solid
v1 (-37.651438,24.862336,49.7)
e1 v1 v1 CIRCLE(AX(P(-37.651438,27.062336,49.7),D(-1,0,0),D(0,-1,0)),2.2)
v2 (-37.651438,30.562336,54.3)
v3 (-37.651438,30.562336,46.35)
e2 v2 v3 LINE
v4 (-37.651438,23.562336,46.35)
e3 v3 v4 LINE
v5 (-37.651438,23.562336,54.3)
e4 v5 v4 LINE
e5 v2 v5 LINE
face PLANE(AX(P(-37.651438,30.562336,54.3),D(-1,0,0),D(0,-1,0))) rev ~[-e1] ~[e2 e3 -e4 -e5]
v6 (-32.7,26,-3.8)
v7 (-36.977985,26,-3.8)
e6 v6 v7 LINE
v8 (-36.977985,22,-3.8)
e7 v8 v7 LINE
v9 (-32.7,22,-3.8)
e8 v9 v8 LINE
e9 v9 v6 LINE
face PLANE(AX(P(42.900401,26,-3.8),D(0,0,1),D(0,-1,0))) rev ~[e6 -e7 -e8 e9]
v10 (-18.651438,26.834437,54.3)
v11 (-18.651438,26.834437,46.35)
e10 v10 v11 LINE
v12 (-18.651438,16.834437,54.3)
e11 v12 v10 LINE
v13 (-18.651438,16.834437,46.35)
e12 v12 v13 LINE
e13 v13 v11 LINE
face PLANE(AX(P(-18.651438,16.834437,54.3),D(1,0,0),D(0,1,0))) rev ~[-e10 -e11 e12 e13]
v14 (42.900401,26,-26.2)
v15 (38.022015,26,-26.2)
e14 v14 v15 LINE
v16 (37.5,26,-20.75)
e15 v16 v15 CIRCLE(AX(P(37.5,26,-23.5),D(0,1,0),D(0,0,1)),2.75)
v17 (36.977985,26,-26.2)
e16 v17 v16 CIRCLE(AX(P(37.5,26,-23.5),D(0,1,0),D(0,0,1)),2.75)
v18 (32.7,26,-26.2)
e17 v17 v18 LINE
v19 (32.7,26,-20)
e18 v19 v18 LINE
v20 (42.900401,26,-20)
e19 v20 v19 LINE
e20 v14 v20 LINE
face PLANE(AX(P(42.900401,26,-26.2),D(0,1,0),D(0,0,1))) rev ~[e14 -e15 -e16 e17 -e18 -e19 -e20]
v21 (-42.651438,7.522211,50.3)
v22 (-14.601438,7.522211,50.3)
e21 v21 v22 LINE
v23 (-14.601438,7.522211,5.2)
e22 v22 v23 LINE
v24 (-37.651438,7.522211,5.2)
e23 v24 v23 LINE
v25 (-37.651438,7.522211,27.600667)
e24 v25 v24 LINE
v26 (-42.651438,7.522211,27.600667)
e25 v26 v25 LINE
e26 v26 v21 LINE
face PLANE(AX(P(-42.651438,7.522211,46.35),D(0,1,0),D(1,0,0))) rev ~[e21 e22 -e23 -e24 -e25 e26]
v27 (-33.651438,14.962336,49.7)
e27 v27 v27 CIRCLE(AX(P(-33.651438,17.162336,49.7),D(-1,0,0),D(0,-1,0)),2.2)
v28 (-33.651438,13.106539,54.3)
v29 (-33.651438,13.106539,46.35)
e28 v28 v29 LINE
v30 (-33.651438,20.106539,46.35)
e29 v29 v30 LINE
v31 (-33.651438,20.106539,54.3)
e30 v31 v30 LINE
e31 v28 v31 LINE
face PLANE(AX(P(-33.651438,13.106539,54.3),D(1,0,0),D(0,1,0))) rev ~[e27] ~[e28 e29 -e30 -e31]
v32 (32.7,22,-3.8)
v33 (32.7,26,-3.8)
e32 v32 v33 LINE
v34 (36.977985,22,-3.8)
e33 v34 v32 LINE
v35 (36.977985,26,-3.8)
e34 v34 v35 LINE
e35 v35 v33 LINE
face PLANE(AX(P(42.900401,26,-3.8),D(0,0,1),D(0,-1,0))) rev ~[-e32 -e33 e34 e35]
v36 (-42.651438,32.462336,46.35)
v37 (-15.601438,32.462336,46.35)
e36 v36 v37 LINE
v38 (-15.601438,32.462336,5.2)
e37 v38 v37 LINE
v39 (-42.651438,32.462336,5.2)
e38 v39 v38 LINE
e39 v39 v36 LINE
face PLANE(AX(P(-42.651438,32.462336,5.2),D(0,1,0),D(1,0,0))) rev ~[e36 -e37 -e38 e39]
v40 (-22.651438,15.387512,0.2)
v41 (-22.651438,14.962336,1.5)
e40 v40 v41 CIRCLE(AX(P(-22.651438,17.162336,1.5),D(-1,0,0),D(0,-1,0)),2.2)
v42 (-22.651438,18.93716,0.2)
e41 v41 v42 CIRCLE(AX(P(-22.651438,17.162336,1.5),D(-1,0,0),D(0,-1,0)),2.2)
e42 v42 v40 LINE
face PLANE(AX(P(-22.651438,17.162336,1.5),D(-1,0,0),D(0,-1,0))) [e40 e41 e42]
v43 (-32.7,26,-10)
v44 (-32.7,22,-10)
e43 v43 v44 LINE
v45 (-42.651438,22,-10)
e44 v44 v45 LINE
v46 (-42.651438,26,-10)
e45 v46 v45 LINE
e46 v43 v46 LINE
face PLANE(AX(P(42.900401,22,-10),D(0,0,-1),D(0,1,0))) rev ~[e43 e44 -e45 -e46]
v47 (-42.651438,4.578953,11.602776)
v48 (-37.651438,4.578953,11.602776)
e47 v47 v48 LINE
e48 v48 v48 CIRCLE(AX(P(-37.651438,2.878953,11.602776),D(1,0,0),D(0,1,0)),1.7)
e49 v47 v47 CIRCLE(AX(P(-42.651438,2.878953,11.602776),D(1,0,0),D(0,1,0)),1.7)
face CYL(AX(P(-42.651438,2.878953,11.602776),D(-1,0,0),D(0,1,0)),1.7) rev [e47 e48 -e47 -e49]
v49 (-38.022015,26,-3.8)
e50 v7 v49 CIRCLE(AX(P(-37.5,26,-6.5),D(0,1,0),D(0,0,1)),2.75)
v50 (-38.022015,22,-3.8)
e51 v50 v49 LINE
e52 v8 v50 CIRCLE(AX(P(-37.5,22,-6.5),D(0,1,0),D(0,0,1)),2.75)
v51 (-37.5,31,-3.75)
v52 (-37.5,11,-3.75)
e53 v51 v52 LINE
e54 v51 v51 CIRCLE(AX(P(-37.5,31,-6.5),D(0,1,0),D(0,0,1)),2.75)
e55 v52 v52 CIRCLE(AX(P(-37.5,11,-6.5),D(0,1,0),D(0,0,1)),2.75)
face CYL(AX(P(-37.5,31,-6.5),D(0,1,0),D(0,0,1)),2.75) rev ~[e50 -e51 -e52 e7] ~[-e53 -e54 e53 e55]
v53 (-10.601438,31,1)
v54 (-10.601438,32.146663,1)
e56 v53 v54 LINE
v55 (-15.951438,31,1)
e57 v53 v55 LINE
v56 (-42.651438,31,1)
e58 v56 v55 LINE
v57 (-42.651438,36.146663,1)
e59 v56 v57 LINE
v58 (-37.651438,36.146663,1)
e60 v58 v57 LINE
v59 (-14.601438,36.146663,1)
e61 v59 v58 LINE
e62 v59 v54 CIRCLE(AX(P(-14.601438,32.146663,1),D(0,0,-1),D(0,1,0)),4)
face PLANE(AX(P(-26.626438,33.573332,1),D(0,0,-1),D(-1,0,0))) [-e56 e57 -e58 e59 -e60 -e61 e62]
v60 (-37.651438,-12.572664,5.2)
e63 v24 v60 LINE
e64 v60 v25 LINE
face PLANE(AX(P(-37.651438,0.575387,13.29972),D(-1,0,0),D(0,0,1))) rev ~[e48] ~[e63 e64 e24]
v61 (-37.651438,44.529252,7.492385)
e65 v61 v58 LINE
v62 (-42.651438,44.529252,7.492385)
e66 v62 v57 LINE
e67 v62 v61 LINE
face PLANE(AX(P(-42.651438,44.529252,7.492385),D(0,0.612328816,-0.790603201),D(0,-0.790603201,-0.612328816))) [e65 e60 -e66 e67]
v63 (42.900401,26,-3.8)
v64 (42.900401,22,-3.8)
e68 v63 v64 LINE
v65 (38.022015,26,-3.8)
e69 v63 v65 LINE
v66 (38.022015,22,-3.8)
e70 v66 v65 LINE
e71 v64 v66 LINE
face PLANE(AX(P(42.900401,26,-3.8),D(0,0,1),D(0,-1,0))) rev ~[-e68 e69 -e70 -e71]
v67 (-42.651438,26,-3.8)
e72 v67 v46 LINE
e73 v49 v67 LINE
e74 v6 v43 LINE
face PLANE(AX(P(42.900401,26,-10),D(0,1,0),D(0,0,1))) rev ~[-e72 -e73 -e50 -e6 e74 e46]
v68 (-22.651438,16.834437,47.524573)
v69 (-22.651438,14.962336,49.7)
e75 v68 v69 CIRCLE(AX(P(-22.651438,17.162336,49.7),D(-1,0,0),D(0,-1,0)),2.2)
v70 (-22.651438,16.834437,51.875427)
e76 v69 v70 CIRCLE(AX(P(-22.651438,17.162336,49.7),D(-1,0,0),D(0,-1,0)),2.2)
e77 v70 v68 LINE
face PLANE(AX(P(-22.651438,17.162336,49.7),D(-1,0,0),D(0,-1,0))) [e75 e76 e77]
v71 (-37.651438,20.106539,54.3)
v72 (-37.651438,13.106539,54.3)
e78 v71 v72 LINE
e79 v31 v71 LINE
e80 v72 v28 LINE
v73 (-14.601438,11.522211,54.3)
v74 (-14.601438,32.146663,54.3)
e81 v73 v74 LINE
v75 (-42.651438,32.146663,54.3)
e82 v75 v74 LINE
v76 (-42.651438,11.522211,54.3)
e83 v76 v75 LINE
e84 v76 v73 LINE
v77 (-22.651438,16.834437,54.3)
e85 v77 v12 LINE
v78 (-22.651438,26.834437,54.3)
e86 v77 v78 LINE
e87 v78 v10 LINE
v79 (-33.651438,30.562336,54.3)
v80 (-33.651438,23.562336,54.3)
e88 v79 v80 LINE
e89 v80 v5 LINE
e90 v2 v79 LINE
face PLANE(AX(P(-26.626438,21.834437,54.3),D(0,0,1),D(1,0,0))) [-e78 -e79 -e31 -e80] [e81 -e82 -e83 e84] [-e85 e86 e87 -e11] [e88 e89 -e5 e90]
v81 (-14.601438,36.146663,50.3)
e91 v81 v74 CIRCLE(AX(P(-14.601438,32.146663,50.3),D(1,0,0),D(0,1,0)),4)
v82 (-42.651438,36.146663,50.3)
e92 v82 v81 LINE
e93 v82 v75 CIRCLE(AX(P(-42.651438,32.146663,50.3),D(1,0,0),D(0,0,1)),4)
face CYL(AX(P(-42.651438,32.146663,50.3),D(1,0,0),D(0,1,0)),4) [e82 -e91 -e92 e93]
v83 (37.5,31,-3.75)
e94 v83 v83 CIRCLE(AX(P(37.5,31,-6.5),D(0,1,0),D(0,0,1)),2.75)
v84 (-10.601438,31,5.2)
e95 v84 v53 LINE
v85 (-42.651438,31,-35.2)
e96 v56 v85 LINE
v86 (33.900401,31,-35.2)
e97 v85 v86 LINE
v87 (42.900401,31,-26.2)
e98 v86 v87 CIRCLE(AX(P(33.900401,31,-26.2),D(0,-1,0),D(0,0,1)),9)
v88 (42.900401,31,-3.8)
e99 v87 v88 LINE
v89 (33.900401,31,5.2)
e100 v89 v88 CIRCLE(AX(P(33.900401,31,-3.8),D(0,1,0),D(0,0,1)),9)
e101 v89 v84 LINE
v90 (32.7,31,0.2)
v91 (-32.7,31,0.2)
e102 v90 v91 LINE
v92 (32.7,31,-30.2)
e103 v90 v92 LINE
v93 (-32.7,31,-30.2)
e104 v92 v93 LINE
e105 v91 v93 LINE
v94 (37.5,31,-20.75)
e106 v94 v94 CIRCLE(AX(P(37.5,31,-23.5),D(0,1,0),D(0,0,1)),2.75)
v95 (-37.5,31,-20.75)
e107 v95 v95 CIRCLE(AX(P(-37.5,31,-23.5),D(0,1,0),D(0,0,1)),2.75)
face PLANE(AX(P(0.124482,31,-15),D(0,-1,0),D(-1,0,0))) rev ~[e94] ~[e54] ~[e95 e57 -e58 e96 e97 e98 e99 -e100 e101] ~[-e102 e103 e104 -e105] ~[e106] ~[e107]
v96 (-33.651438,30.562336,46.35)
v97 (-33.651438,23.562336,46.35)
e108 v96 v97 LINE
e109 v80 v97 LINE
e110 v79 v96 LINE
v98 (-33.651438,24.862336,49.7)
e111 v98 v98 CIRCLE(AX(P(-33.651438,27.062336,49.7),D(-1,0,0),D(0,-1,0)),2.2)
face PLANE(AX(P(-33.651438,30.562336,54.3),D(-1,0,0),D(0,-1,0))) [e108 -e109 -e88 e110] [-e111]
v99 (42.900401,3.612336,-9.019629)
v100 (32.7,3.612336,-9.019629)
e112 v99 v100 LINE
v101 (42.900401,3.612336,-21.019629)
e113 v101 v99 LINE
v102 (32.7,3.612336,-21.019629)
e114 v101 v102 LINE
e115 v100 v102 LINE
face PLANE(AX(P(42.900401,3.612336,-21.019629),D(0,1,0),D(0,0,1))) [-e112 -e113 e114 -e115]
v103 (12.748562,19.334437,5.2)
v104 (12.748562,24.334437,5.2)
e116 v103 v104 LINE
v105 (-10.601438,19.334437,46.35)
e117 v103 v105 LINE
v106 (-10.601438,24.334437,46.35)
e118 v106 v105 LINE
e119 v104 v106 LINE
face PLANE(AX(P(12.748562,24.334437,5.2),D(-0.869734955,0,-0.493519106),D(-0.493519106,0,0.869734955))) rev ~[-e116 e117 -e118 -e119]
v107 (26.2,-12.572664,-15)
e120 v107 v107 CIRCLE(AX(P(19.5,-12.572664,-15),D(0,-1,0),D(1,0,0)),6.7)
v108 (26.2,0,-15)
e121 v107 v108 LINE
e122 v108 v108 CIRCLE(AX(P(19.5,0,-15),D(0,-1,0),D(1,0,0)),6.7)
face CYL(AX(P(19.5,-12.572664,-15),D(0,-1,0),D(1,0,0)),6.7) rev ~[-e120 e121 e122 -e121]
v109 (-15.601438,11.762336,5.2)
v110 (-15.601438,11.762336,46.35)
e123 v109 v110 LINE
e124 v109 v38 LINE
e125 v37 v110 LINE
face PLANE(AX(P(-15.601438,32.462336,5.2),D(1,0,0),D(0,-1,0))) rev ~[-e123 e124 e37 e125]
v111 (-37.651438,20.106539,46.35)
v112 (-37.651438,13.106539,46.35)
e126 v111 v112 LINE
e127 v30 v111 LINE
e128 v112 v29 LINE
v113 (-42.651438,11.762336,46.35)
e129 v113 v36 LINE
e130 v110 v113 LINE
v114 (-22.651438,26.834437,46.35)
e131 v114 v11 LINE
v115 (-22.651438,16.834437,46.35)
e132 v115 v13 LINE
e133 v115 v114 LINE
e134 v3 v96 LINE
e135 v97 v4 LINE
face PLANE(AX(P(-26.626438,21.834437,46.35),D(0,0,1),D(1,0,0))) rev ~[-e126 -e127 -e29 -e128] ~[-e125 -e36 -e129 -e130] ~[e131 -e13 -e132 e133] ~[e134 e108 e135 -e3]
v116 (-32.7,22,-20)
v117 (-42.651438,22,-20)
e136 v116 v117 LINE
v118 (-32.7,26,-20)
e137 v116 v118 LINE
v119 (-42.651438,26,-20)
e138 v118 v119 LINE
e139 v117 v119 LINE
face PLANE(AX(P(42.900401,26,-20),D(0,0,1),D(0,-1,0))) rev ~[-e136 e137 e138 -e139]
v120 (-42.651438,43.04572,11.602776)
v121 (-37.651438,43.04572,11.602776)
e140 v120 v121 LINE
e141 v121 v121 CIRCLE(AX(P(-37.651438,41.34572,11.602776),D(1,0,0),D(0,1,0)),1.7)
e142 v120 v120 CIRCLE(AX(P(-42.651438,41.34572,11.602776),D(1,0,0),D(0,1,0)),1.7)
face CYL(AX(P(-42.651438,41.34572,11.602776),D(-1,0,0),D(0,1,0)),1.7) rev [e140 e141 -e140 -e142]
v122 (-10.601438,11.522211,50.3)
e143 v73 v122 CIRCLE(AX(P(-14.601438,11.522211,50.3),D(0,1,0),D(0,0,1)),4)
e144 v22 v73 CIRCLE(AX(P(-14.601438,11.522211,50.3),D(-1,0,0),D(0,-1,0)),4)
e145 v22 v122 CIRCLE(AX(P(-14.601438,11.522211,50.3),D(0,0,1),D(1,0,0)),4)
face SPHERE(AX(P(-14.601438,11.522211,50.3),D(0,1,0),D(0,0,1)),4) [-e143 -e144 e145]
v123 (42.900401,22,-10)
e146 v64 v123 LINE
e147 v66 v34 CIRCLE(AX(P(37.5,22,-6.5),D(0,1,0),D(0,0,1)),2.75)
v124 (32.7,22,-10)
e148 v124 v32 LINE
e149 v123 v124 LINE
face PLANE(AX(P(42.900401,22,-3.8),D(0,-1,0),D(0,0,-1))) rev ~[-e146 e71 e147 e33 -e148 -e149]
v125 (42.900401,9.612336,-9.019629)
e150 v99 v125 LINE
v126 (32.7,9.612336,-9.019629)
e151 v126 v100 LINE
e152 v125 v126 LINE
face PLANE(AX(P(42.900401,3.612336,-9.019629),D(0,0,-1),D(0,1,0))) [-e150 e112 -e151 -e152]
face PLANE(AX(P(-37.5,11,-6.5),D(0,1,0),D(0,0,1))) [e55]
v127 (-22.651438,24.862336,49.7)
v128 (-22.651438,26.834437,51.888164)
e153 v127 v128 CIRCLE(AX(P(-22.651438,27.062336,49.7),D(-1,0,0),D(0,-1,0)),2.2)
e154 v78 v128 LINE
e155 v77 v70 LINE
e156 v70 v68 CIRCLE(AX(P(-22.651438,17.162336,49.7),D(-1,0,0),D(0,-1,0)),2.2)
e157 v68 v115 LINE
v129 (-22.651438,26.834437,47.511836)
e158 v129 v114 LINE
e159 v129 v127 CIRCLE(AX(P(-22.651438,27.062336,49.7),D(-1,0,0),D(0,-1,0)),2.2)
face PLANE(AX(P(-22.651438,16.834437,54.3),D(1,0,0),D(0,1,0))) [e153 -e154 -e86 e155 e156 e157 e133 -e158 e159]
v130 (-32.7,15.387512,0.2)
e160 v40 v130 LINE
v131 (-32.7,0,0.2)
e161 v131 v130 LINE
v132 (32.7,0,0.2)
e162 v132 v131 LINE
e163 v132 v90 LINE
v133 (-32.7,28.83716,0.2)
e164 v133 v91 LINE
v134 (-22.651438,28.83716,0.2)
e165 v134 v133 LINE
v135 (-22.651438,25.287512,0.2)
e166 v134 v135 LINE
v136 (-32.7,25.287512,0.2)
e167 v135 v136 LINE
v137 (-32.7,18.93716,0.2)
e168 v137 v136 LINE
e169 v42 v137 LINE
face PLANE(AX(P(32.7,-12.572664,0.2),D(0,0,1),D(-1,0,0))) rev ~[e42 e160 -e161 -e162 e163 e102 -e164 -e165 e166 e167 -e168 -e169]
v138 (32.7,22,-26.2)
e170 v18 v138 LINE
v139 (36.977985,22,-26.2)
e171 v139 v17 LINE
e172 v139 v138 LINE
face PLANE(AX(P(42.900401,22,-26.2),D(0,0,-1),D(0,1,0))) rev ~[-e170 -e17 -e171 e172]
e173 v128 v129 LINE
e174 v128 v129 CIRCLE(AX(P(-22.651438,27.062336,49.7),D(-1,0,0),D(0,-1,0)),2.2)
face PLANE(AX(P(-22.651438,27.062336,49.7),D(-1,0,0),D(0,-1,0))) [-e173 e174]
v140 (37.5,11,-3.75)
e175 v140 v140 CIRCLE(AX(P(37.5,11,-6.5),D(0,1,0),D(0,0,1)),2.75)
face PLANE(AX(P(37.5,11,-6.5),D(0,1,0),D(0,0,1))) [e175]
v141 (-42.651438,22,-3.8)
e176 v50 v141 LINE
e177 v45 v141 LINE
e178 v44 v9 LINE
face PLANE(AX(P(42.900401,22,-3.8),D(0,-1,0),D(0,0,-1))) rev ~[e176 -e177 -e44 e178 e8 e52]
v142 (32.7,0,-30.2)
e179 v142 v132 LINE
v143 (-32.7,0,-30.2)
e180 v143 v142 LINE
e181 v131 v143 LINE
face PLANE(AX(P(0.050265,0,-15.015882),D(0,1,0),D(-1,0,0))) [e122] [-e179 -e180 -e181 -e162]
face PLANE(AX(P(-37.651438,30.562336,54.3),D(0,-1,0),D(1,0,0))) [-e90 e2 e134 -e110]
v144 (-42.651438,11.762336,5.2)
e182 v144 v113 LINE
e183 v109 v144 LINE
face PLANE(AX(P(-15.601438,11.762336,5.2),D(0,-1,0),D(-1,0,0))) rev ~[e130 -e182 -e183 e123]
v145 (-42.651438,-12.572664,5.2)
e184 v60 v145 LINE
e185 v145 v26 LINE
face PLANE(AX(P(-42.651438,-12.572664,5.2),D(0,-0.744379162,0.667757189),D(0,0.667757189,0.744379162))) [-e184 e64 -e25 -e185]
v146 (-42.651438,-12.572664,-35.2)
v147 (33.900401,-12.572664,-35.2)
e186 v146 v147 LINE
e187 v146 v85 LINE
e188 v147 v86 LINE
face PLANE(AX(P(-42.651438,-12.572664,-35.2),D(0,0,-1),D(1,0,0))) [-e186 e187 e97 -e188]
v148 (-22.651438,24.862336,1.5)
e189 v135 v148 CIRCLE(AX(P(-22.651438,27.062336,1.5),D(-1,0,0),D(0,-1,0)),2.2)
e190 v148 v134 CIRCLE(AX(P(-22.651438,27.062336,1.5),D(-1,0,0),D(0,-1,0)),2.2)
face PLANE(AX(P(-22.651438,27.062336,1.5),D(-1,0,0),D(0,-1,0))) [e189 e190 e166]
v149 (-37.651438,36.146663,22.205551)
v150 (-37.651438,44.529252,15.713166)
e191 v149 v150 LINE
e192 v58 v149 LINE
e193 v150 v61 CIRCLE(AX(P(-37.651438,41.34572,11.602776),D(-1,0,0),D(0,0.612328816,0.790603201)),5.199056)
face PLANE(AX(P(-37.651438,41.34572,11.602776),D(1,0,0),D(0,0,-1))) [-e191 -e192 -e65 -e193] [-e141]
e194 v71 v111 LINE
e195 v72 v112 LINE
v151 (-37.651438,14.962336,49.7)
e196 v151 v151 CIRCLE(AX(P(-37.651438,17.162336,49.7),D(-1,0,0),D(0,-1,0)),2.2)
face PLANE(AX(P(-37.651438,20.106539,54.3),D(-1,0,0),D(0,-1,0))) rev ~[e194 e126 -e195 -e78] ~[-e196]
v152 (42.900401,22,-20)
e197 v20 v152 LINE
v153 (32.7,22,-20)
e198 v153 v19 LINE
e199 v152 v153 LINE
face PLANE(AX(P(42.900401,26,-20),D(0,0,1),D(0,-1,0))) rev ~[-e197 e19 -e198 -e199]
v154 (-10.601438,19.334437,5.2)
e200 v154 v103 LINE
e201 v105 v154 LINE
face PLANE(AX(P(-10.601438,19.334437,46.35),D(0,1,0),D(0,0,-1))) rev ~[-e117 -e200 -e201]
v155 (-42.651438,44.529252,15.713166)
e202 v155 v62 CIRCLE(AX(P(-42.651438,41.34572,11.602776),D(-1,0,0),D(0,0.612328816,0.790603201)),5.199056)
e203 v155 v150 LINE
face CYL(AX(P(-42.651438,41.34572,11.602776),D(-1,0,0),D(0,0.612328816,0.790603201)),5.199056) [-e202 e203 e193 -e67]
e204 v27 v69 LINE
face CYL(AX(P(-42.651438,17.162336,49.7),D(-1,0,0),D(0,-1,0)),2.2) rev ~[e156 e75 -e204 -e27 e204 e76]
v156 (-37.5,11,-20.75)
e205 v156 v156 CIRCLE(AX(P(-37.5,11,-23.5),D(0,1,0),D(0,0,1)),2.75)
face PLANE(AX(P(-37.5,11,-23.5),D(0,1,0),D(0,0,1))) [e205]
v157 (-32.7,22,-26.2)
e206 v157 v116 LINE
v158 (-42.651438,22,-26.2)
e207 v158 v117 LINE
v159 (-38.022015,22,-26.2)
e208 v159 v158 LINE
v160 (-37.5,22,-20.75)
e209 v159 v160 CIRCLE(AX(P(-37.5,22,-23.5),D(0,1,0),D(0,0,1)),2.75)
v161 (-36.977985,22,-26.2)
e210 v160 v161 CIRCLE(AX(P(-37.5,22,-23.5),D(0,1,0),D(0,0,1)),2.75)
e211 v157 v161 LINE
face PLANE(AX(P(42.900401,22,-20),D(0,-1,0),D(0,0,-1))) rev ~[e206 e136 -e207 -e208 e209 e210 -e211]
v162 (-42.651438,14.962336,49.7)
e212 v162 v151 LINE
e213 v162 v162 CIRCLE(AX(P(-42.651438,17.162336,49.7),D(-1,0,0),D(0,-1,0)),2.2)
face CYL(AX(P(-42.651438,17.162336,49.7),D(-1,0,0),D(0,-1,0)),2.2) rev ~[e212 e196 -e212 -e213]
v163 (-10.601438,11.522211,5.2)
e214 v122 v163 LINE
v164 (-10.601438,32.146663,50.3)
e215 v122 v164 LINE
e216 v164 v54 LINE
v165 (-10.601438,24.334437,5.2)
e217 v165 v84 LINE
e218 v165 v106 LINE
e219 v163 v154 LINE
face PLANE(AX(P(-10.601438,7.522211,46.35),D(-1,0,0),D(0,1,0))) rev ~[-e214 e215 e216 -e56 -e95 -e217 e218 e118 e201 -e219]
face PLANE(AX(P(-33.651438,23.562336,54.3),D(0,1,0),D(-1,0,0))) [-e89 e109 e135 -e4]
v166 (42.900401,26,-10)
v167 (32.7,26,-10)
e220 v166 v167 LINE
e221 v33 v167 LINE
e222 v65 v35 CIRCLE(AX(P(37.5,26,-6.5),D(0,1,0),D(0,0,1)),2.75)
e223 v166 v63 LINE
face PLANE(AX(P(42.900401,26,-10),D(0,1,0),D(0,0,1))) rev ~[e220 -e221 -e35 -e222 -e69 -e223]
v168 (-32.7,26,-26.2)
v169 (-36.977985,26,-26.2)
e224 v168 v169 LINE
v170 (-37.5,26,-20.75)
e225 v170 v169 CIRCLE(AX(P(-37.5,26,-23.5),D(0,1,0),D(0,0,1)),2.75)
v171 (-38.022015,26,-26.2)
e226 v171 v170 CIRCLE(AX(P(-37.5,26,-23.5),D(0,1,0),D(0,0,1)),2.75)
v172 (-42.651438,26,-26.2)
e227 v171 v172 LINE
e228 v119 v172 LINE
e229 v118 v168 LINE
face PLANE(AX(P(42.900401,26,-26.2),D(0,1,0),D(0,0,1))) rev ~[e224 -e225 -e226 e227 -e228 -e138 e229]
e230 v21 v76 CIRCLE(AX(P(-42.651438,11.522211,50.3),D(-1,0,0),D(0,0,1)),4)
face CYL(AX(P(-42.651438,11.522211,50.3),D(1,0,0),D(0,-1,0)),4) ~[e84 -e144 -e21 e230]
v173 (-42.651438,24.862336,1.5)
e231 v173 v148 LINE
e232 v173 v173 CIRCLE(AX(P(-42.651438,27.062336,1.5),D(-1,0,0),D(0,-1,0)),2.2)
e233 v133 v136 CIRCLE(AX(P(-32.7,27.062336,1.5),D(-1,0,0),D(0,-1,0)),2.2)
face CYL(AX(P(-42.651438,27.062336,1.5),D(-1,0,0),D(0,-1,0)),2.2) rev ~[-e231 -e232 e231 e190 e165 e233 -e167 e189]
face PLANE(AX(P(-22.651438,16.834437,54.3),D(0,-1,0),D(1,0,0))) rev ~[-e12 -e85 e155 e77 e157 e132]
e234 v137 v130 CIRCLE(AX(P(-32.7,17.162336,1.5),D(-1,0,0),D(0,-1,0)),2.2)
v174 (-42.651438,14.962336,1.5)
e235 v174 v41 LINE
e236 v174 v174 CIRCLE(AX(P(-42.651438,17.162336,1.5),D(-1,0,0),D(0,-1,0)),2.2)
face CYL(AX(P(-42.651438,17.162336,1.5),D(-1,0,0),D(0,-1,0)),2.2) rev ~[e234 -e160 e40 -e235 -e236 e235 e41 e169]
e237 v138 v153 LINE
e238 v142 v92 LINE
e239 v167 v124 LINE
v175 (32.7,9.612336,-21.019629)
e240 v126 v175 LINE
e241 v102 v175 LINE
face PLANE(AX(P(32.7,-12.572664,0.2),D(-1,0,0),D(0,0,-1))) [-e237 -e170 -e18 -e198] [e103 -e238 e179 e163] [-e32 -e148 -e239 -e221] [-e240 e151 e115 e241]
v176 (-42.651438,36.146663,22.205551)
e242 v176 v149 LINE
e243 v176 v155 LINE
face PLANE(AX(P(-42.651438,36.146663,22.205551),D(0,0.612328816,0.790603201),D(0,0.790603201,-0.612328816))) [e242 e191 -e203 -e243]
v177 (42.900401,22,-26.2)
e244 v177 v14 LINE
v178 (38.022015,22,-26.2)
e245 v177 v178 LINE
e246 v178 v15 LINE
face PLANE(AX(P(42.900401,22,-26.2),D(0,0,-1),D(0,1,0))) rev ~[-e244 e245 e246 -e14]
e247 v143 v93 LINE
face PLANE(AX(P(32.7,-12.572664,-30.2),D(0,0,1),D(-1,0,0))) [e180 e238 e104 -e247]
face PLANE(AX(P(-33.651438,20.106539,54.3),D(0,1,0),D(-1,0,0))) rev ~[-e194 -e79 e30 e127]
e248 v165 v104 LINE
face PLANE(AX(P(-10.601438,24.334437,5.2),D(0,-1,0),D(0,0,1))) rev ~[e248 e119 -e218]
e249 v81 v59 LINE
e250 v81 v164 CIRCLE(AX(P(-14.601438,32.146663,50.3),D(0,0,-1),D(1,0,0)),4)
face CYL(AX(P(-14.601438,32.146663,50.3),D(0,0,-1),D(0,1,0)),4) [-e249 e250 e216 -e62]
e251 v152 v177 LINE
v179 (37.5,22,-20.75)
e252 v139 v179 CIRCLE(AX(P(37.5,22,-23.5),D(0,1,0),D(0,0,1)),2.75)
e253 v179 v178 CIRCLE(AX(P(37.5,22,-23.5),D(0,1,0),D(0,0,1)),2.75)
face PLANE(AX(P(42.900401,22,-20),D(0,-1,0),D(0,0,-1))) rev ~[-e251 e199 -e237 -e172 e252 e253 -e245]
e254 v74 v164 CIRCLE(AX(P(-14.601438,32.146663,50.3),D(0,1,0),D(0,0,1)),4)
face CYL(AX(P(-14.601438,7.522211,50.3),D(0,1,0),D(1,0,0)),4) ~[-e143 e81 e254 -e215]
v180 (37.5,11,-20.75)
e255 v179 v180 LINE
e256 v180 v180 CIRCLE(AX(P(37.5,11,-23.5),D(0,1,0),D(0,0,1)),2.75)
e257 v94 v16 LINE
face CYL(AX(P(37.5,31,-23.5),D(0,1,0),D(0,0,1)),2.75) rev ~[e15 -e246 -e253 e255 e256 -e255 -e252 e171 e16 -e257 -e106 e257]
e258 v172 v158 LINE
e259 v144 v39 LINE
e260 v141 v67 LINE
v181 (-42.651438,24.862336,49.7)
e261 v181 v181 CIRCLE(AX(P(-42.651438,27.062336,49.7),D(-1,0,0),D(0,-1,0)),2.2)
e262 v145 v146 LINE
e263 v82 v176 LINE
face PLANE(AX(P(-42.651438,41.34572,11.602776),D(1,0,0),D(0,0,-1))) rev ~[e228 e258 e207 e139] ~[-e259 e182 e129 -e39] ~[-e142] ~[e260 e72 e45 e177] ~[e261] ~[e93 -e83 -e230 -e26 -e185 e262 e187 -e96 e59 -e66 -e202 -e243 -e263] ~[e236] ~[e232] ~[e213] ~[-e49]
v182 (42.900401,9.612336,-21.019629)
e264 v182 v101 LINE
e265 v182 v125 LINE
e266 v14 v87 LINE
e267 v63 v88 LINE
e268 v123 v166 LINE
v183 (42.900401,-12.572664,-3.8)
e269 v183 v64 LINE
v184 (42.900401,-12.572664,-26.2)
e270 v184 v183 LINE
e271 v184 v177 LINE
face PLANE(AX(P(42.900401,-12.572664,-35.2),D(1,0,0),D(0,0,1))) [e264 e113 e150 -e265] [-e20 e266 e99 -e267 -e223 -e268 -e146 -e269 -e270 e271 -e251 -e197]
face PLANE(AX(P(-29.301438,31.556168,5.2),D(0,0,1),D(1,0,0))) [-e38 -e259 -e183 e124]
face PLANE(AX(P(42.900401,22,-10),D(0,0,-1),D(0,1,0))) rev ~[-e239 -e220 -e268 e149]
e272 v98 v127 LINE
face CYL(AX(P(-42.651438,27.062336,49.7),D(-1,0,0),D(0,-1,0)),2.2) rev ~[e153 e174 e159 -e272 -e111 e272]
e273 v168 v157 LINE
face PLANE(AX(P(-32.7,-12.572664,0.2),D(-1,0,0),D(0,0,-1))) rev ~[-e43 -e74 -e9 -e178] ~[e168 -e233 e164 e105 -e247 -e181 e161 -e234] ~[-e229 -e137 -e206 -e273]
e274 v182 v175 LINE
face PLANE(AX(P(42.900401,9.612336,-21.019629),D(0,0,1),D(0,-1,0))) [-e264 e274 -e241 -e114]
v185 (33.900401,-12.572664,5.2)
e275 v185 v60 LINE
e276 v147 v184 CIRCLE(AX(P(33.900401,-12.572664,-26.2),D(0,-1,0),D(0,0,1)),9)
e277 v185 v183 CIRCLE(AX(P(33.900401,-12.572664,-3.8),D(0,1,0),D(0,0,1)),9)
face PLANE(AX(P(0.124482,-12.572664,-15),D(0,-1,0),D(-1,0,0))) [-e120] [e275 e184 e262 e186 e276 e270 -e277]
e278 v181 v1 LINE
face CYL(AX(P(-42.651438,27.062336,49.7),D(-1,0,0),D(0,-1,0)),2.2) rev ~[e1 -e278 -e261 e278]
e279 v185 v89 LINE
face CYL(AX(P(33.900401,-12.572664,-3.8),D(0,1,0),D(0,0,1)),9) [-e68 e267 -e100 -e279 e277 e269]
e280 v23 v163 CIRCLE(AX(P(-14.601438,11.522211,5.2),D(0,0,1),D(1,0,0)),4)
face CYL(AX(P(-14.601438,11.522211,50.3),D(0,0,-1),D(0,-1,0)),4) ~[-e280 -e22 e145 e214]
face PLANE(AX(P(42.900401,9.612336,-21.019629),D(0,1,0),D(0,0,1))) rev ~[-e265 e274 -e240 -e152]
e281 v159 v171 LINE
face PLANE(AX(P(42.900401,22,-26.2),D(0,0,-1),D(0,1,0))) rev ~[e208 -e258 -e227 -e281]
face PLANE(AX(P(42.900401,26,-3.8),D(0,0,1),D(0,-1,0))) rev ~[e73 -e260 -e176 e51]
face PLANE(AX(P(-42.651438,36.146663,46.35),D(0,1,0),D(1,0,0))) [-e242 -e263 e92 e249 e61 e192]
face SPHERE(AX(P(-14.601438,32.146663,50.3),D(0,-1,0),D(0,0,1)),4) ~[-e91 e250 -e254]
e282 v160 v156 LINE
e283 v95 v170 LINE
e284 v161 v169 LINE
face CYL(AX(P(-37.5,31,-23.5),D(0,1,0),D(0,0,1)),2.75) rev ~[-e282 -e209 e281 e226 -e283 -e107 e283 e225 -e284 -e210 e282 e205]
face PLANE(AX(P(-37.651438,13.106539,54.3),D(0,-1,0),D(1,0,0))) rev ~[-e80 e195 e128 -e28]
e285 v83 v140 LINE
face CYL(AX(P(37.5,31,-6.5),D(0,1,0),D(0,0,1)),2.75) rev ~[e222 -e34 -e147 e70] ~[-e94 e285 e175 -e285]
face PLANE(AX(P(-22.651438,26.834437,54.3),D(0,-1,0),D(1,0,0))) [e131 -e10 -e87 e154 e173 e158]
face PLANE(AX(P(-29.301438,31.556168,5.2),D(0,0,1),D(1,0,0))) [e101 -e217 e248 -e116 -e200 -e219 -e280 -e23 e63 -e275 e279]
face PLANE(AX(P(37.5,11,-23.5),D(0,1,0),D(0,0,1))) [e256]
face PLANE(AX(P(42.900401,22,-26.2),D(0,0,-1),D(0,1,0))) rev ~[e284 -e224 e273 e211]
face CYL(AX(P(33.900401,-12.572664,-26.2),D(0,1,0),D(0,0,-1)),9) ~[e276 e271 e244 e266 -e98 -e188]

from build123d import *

# Parameters (mm, degrees)
BOSS_EXTRUDE1_DEPTH  = 12.572663867
SKETCH3_W            = 65.4
SKETCH3_H            = 30.4
BOSS_EXTRUDE2_DEPTH  = 43.572663867
FILLET1_R            = 9
SKETCH4_R            = 2.75
CUT_EXTRUDE1_DEPTH   = 20
CUT_EXTRUDE2_DEPTH   = 129
SKETCH6_R            = 6.7
CUT_EXTRUDE3_DEPTH   = 129
CUT_EXTRUDE6_DEPTH   = 63
SKETCH8_W            = 26.7
SKETCH8_H            = 1.112336133
BOSS_EXTRUDE3_DEPTH  = 4.2
BOSS_EXTRUDE4_DEPTH  = 41.15
SKETCH10_W           = 32.05
SKETCH10_H           = 5.146663352
BOSS_EXTRUDE5_DEPTH  = 4.2
BOSS_EXTRUDE6_DEPTH  = 23.35
CUT_EXTRUDE7_DEPTH   = 23.35
BOSS_EXTRUDE7_DEPTH  = 5
SKETCH15_W           = 32.05
SKETCH15_H           = 28.624452046
BOSS_EXTRUDE8_DEPTH  = 7.95
FILLET2_R            = 4
FILLET3_R            = 4
SKETCH16_R           = 2.2
CUT_EXTRUDE8_DEPTH   = 20
CUT_EXTRUDE9_DEPTH   = 41
BOSS_EXTRUDE9_DEPTH  = 5
SKETCH19_R           = 2.420474662
CUT_EXTRUDE10_DEPTH  = 5
BOSS_EXTRUDE10_START = -5
SKETCH20_R           = 2.420474662
SKETCH20_R_2         = 1.7
BOSS_EXTRUDE10_DEPTH = 5
SKETCH21_W           = 4
SKETCH21_H           = 10
CUT_EXTRUDE11_DEPTH  = 10


with BuildPart() as part:
    # Sketch2 → Boss-Extrude1 (new body)
    with BuildSketch(Plane.XZ):
        Polygon((-29.5, -30.2), (-32.5, -30.2), (-32.7, -30.2), (-32.7, -27), (-32.7, 0), (-32.7, 0.2), (32.5, 0.2), (32.7, 0.2), (32.900400589, -30.2), align=None)
    extrude(amount=BOSS_EXTRUDE1_DEPTH)

    # Sketch3 → Boss-Extrude2 (add)
    with BuildSketch(Plane(origin=(0, -12.572663867, 0), x_dir=(-1, 0, 0), z_dir=(0, -1, 0))):
        Polygon((-32.7, -5.2), (32.651437537, -5.2), (42.651437537, -5.2), (42.651437537, 30.2), (42.651437537, 35.2), (-32.900400589, 35.2), (-42.900400589, 35.2), (-42.900400589, 30.2), (-42.900400589, -5.2), align=None)
        with Locations((0, 15)):
            Rectangle(SKETCH3_W, SKETCH3_H, mode=Mode.SUBTRACT)
    extrude(amount=-BOSS_EXTRUDE2_DEPTH)

    # Fillet1
    fillet1_edges = [part.edges().sort_by_distance(p)[0] for p in [
        (42.900400589, 9.213668067, -35.2),
        (42.900400589, 9.213668067, 5.2),
    ]]
    fillet(fillet1_edges, radius=FILLET1_R)

    # Sketch4 → Cut-Extrude1 (cut)
    with BuildSketch(Plane(origin=(0, 31, 0), x_dir=(1, 0, 0), z_dir=(0, 1, 0))):
        with Locations(Location((-37.5, 23.5, 0), (0, 0, 270))):
            Circle(SKETCH4_R)
        with Locations(Location((-37.5, 6.5, 0), (0, 0, 270))):
            Circle(SKETCH4_R)
        with Locations(Location((37.5, 6.5, 0), (0, 0, 270))):
            Circle(SKETCH4_R)
        with Locations(Location((37.5, 23.5, 0), (0, 0, 270))):
            Circle(SKETCH4_R)
    extrude(amount=-CUT_EXTRUDE1_DEPTH, mode=Mode.SUBTRACT)

    # Sketch5 → Cut-Extrude2 (cut)
    with BuildSketch(Plane(origin=(42.900400589, 0, 0), x_dir=(0, 0, -1), z_dir=(1, 0, 0))):
        Polygon((6.5, 26), (3.8, 26), (3.8, 22), (10, 22), (10, 26), align=None)
        Polygon((26.2, 26), (23.5, 26), (20, 26), (20, 22), (26.2, 22), align=None)
    extrude(amount=-CUT_EXTRUDE2_DEPTH, mode=Mode.SUBTRACT)

    # Sketch6 → Cut-Extrude3 (cut)
    with BuildSketch(Plane.XZ.offset(12.572663867)):
        with Locations((19.5, -15)):
            Circle(SKETCH6_R)
    extrude(amount=-CUT_EXTRUDE3_DEPTH, mode=Mode.SUBTRACT)

    # Sketch7 → Cut-Extrude6 (cut)
    with BuildSketch(Plane(origin=(42.900400589, 0, 0), x_dir=(0, 0, -1), z_dir=(1, 0, 0))):
        Polygon((21.019628841, 3.612336133), (9.019628841, 3.612336133), (9.019628841, 9.612336133), (15.019628841, 9.612336133), (21.019628841, 9.612336133), align=None)
    extrude(amount=-CUT_EXTRUDE6_DEPTH, mode=Mode.SUBTRACT)

    # Sketch8 → Boss-Extrude3 (add)
    with BuildSketch(Plane.XY.offset(5.2)):
        with Locations((-29.301437537, 31.556168066)):
            Rectangle(SKETCH8_W, SKETCH8_H)
    extrude(amount=-BOSS_EXTRUDE3_DEPTH)

    # Sketch9 → Boss-Extrude4 (add)
    with BuildSketch(Plane.XY.offset(5.2)):
        Polygon((-15.951437537, 11.762336133), (-42.651437537, 11.762336133), (-42.651437537, 7.522211306), (-10.601437537, 7.522211306), (-10.601437537, 11.762336133), (-10.601437537, 31), (-15.601437537, 31), (-15.601437537, 11.762336133), align=None)
        Polygon((-42.651437537, 36.146663352), (-42.651437537, 32.462336133), (-15.601437537, 32.462336133), (-15.601437537, 32.112336133), (-15.601437537, 31), (-10.601437537, 31), (-10.601437537, 32.462336133), (-10.601437537, 36.146663352), align=None)
    extrude(amount=BOSS_EXTRUDE4_DEPTH)

    # Sketch10 → Boss-Extrude5 (add)
    with BuildSketch(Plane(origin=(0, 0, 5.2), x_dir=(-1, 0, 0), z_dir=(0, 0, -1))):
        with Locations((26.626437537, 33.573331676)):
            Rectangle(SKETCH10_W, SKETCH10_H)
    extrude(amount=BOSS_EXTRUDE5_DEPTH)

    # Sketch12 → Boss-Extrude6 (add)
    with BuildSketch(Plane(origin=(-10.601437537, 0, 0), x_dir=(0, 0, -1), z_dir=(1, 0, 0))):
        Polygon((-46.35, 21.834437329), (-46.35, 19.334437329), (-5.2, 19.334437329), (-5.2, 24.334437329), (-46.35, 24.334437329), align=None)
    extrude(amount=BOSS_EXTRUDE6_DEPTH)

    # Sketch13 → Cut-Extrude7 (cut)
    with BuildSketch(Plane(origin=(0, 24.334437329, 0), x_dir=(1, 0, 0), z_dir=(0, 1, 0))):
        Polygon((12.748562463, -5.2), (-10.601437537, -46.35), (12.748562463, -46.35), align=None)
    extrude(amount=-CUT_EXTRUDE7_DEPTH, mode=Mode.SUBTRACT)

    # Sketch14 → Boss-Extrude7 (add)
    with BuildSketch(Plane.ZY.offset(42.651437537)):
        Polygon((5.2, -12.572663867), (27.600666869, 7.522211306), (5.2, 7.522211306), align=None)
    extrude(amount=-BOSS_EXTRUDE7_DEPTH)

    # Sketch15 → Boss-Extrude8 (add)
    with BuildSketch(Plane.XY.offset(46.35)):
        with Locations((-26.626437537, 21.834437329)):
            Rectangle(SKETCH15_W, SKETCH15_H)
    extrude(amount=BOSS_EXTRUDE8_DEPTH)

    # Fillet2
    fillet2_edges = [part.edges().sort_by_distance(p)[0] for p in [
        (-10.601437537, 21.834437329, 54.3),
    ]]
    fillet(fillet2_edges, radius=FILLET2_R)

    # Fillet3
    fillet3_edges = [part.edges().sort_by_distance(p)[0] for p in [
        (-28.626437537, 7.522211306, 54.3),
        (-28.626437537, 36.146663352, 54.3),
        (-10.601437537, 36.146663352, 25.65),
        (-11.773010412, 36.146663352, 53.128427125),
        (-10.601437537, 7.522211306, 27.75),
        (-11.773010412, 7.522211306, 53.128427125),
    ]]
    fillet(fillet3_edges, radius=FILLET3_R)

    # Sketch16 → Cut-Extrude8 (cut)
    with BuildSketch(Plane.ZY.offset(42.651437537)):
        with Locations(Location((49.7, 27.062336133, 0), (0, 0, 270))):
            Circle(SKETCH16_R)
        with Locations(Location((49.7, 17.162336133, 0), (0, 0, 270))):
            Circle(SKETCH16_R)
        with Locations(Location((1.5, 27.062336133, 0), (0, 0, 270))):
            Circle(SKETCH16_R)
        with Locations(Location((1.5, 17.162336133, 0), (0, 0, 270))):
            Circle(SKETCH16_R)
    extrude(amount=-CUT_EXTRUDE8_DEPTH, mode=Mode.SUBTRACT)

    # Sketch17 → Cut-Extrude9 (cut)
    with BuildSketch(Plane.XY.offset(54.3)):
        Polygon((-33.651437537, 23.562336133), (-37.651437537, 23.562336133), (-37.651437537, 27.062336133), (-37.651437537, 30.562336133), (-33.651437537, 30.562336133), align=None)
        Polygon((-33.651437537, 20.106538525), (-37.651437537, 20.106538525), (-37.651437537, 16.606538525), (-37.651437537, 13.106538525), (-33.651437537, 13.106538525), align=None)
    extrude(amount=-CUT_EXTRUDE9_DEPTH, mode=Mode.SUBTRACT)

    # Sketch18 → Boss-Extrude9 (add)
    with BuildSketch(Plane.ZY.offset(42.651437537)):
        with BuildLine():
            Line((7.492385077, 44.529251739), (1, 36.146663352))
            Line((1, 36.146663352), (22.205551353, 36.146663352))
            Line((22.205551353, 36.146663352), (15.713166275, 44.529251739))
            ThreePointArc((15.713166275, 44.529251739), (11.602775676, 46.544776073), (7.492385077, 44.529251739))
        make_face()
        with BuildLine():
            ThreePointArc((11.602775676, 38.925245051), (9.891241629, 43.05725376), (14.023250338, 41.345719713))
            ThreePointArc((14.023250338, 41.345719713), (13.314309723, 39.634185666), (11.602775676, 38.925245051))
        make_face(mode=Mode.SUBTRACT)
    extrude(amount=-BOSS_EXTRUDE9_DEPTH)

    # Sketch19 → Cut-Extrude10 (cut)
    with BuildSketch(Plane.ZY.offset(42.651437537)):
        with Locations(Location((11.602775676, 2.878952554, 0), (0, 0, 270))):
            Circle(SKETCH19_R)
    extrude(amount=-CUT_EXTRUDE10_DEPTH, mode=Mode.SUBTRACT)

    # Sketch20 → Boss-Extrude10 (add)
    # profile 1 of 2: a face of its own
    with BuildSketch(Plane(origin=(-37.651437537, 0, 0), x_dir=(0, 0, -1), z_dir=(1, 0, 0)).offset(BOSS_EXTRUDE10_START)):
        with Locations((-11.602775676, 41.345719713)):
            Circle(SKETCH20_R)
        with Locations(Location((-11.602775676, 41.345719713, 0), (0, 0, 90))):
            Circle(SKETCH20_R_2, mode=Mode.SUBTRACT)
    # profile 2 of 2: a face of its own
    with BuildSketch(Plane(origin=(-37.651437537, 0, 0), x_dir=(0, 0, -1), z_dir=(1, 0, 0)).offset(BOSS_EXTRUDE10_START)):
        with Locations((-11.602775676, 2.878952554)):
            Circle(SKETCH20_R)
        with Locations(Location((-11.602775676, 2.878952554, 0), (0, 0, 90))):
            Circle(SKETCH20_R_2, mode=Mode.SUBTRACT)
    extrude(amount=BOSS_EXTRUDE10_DEPTH)

    # Sketch21 → Cut-Extrude11 (cut)
    with BuildSketch(Plane.XY.offset(54.3)):
        with Locations((-20.651437537, 21.834437329)):
            Rectangle(SKETCH21_W, SKETCH21_H)
    extrude(amount=-CUT_EXTRUDE11_DEPTH, mode=Mode.SUBTRACT)


solid = part.part
